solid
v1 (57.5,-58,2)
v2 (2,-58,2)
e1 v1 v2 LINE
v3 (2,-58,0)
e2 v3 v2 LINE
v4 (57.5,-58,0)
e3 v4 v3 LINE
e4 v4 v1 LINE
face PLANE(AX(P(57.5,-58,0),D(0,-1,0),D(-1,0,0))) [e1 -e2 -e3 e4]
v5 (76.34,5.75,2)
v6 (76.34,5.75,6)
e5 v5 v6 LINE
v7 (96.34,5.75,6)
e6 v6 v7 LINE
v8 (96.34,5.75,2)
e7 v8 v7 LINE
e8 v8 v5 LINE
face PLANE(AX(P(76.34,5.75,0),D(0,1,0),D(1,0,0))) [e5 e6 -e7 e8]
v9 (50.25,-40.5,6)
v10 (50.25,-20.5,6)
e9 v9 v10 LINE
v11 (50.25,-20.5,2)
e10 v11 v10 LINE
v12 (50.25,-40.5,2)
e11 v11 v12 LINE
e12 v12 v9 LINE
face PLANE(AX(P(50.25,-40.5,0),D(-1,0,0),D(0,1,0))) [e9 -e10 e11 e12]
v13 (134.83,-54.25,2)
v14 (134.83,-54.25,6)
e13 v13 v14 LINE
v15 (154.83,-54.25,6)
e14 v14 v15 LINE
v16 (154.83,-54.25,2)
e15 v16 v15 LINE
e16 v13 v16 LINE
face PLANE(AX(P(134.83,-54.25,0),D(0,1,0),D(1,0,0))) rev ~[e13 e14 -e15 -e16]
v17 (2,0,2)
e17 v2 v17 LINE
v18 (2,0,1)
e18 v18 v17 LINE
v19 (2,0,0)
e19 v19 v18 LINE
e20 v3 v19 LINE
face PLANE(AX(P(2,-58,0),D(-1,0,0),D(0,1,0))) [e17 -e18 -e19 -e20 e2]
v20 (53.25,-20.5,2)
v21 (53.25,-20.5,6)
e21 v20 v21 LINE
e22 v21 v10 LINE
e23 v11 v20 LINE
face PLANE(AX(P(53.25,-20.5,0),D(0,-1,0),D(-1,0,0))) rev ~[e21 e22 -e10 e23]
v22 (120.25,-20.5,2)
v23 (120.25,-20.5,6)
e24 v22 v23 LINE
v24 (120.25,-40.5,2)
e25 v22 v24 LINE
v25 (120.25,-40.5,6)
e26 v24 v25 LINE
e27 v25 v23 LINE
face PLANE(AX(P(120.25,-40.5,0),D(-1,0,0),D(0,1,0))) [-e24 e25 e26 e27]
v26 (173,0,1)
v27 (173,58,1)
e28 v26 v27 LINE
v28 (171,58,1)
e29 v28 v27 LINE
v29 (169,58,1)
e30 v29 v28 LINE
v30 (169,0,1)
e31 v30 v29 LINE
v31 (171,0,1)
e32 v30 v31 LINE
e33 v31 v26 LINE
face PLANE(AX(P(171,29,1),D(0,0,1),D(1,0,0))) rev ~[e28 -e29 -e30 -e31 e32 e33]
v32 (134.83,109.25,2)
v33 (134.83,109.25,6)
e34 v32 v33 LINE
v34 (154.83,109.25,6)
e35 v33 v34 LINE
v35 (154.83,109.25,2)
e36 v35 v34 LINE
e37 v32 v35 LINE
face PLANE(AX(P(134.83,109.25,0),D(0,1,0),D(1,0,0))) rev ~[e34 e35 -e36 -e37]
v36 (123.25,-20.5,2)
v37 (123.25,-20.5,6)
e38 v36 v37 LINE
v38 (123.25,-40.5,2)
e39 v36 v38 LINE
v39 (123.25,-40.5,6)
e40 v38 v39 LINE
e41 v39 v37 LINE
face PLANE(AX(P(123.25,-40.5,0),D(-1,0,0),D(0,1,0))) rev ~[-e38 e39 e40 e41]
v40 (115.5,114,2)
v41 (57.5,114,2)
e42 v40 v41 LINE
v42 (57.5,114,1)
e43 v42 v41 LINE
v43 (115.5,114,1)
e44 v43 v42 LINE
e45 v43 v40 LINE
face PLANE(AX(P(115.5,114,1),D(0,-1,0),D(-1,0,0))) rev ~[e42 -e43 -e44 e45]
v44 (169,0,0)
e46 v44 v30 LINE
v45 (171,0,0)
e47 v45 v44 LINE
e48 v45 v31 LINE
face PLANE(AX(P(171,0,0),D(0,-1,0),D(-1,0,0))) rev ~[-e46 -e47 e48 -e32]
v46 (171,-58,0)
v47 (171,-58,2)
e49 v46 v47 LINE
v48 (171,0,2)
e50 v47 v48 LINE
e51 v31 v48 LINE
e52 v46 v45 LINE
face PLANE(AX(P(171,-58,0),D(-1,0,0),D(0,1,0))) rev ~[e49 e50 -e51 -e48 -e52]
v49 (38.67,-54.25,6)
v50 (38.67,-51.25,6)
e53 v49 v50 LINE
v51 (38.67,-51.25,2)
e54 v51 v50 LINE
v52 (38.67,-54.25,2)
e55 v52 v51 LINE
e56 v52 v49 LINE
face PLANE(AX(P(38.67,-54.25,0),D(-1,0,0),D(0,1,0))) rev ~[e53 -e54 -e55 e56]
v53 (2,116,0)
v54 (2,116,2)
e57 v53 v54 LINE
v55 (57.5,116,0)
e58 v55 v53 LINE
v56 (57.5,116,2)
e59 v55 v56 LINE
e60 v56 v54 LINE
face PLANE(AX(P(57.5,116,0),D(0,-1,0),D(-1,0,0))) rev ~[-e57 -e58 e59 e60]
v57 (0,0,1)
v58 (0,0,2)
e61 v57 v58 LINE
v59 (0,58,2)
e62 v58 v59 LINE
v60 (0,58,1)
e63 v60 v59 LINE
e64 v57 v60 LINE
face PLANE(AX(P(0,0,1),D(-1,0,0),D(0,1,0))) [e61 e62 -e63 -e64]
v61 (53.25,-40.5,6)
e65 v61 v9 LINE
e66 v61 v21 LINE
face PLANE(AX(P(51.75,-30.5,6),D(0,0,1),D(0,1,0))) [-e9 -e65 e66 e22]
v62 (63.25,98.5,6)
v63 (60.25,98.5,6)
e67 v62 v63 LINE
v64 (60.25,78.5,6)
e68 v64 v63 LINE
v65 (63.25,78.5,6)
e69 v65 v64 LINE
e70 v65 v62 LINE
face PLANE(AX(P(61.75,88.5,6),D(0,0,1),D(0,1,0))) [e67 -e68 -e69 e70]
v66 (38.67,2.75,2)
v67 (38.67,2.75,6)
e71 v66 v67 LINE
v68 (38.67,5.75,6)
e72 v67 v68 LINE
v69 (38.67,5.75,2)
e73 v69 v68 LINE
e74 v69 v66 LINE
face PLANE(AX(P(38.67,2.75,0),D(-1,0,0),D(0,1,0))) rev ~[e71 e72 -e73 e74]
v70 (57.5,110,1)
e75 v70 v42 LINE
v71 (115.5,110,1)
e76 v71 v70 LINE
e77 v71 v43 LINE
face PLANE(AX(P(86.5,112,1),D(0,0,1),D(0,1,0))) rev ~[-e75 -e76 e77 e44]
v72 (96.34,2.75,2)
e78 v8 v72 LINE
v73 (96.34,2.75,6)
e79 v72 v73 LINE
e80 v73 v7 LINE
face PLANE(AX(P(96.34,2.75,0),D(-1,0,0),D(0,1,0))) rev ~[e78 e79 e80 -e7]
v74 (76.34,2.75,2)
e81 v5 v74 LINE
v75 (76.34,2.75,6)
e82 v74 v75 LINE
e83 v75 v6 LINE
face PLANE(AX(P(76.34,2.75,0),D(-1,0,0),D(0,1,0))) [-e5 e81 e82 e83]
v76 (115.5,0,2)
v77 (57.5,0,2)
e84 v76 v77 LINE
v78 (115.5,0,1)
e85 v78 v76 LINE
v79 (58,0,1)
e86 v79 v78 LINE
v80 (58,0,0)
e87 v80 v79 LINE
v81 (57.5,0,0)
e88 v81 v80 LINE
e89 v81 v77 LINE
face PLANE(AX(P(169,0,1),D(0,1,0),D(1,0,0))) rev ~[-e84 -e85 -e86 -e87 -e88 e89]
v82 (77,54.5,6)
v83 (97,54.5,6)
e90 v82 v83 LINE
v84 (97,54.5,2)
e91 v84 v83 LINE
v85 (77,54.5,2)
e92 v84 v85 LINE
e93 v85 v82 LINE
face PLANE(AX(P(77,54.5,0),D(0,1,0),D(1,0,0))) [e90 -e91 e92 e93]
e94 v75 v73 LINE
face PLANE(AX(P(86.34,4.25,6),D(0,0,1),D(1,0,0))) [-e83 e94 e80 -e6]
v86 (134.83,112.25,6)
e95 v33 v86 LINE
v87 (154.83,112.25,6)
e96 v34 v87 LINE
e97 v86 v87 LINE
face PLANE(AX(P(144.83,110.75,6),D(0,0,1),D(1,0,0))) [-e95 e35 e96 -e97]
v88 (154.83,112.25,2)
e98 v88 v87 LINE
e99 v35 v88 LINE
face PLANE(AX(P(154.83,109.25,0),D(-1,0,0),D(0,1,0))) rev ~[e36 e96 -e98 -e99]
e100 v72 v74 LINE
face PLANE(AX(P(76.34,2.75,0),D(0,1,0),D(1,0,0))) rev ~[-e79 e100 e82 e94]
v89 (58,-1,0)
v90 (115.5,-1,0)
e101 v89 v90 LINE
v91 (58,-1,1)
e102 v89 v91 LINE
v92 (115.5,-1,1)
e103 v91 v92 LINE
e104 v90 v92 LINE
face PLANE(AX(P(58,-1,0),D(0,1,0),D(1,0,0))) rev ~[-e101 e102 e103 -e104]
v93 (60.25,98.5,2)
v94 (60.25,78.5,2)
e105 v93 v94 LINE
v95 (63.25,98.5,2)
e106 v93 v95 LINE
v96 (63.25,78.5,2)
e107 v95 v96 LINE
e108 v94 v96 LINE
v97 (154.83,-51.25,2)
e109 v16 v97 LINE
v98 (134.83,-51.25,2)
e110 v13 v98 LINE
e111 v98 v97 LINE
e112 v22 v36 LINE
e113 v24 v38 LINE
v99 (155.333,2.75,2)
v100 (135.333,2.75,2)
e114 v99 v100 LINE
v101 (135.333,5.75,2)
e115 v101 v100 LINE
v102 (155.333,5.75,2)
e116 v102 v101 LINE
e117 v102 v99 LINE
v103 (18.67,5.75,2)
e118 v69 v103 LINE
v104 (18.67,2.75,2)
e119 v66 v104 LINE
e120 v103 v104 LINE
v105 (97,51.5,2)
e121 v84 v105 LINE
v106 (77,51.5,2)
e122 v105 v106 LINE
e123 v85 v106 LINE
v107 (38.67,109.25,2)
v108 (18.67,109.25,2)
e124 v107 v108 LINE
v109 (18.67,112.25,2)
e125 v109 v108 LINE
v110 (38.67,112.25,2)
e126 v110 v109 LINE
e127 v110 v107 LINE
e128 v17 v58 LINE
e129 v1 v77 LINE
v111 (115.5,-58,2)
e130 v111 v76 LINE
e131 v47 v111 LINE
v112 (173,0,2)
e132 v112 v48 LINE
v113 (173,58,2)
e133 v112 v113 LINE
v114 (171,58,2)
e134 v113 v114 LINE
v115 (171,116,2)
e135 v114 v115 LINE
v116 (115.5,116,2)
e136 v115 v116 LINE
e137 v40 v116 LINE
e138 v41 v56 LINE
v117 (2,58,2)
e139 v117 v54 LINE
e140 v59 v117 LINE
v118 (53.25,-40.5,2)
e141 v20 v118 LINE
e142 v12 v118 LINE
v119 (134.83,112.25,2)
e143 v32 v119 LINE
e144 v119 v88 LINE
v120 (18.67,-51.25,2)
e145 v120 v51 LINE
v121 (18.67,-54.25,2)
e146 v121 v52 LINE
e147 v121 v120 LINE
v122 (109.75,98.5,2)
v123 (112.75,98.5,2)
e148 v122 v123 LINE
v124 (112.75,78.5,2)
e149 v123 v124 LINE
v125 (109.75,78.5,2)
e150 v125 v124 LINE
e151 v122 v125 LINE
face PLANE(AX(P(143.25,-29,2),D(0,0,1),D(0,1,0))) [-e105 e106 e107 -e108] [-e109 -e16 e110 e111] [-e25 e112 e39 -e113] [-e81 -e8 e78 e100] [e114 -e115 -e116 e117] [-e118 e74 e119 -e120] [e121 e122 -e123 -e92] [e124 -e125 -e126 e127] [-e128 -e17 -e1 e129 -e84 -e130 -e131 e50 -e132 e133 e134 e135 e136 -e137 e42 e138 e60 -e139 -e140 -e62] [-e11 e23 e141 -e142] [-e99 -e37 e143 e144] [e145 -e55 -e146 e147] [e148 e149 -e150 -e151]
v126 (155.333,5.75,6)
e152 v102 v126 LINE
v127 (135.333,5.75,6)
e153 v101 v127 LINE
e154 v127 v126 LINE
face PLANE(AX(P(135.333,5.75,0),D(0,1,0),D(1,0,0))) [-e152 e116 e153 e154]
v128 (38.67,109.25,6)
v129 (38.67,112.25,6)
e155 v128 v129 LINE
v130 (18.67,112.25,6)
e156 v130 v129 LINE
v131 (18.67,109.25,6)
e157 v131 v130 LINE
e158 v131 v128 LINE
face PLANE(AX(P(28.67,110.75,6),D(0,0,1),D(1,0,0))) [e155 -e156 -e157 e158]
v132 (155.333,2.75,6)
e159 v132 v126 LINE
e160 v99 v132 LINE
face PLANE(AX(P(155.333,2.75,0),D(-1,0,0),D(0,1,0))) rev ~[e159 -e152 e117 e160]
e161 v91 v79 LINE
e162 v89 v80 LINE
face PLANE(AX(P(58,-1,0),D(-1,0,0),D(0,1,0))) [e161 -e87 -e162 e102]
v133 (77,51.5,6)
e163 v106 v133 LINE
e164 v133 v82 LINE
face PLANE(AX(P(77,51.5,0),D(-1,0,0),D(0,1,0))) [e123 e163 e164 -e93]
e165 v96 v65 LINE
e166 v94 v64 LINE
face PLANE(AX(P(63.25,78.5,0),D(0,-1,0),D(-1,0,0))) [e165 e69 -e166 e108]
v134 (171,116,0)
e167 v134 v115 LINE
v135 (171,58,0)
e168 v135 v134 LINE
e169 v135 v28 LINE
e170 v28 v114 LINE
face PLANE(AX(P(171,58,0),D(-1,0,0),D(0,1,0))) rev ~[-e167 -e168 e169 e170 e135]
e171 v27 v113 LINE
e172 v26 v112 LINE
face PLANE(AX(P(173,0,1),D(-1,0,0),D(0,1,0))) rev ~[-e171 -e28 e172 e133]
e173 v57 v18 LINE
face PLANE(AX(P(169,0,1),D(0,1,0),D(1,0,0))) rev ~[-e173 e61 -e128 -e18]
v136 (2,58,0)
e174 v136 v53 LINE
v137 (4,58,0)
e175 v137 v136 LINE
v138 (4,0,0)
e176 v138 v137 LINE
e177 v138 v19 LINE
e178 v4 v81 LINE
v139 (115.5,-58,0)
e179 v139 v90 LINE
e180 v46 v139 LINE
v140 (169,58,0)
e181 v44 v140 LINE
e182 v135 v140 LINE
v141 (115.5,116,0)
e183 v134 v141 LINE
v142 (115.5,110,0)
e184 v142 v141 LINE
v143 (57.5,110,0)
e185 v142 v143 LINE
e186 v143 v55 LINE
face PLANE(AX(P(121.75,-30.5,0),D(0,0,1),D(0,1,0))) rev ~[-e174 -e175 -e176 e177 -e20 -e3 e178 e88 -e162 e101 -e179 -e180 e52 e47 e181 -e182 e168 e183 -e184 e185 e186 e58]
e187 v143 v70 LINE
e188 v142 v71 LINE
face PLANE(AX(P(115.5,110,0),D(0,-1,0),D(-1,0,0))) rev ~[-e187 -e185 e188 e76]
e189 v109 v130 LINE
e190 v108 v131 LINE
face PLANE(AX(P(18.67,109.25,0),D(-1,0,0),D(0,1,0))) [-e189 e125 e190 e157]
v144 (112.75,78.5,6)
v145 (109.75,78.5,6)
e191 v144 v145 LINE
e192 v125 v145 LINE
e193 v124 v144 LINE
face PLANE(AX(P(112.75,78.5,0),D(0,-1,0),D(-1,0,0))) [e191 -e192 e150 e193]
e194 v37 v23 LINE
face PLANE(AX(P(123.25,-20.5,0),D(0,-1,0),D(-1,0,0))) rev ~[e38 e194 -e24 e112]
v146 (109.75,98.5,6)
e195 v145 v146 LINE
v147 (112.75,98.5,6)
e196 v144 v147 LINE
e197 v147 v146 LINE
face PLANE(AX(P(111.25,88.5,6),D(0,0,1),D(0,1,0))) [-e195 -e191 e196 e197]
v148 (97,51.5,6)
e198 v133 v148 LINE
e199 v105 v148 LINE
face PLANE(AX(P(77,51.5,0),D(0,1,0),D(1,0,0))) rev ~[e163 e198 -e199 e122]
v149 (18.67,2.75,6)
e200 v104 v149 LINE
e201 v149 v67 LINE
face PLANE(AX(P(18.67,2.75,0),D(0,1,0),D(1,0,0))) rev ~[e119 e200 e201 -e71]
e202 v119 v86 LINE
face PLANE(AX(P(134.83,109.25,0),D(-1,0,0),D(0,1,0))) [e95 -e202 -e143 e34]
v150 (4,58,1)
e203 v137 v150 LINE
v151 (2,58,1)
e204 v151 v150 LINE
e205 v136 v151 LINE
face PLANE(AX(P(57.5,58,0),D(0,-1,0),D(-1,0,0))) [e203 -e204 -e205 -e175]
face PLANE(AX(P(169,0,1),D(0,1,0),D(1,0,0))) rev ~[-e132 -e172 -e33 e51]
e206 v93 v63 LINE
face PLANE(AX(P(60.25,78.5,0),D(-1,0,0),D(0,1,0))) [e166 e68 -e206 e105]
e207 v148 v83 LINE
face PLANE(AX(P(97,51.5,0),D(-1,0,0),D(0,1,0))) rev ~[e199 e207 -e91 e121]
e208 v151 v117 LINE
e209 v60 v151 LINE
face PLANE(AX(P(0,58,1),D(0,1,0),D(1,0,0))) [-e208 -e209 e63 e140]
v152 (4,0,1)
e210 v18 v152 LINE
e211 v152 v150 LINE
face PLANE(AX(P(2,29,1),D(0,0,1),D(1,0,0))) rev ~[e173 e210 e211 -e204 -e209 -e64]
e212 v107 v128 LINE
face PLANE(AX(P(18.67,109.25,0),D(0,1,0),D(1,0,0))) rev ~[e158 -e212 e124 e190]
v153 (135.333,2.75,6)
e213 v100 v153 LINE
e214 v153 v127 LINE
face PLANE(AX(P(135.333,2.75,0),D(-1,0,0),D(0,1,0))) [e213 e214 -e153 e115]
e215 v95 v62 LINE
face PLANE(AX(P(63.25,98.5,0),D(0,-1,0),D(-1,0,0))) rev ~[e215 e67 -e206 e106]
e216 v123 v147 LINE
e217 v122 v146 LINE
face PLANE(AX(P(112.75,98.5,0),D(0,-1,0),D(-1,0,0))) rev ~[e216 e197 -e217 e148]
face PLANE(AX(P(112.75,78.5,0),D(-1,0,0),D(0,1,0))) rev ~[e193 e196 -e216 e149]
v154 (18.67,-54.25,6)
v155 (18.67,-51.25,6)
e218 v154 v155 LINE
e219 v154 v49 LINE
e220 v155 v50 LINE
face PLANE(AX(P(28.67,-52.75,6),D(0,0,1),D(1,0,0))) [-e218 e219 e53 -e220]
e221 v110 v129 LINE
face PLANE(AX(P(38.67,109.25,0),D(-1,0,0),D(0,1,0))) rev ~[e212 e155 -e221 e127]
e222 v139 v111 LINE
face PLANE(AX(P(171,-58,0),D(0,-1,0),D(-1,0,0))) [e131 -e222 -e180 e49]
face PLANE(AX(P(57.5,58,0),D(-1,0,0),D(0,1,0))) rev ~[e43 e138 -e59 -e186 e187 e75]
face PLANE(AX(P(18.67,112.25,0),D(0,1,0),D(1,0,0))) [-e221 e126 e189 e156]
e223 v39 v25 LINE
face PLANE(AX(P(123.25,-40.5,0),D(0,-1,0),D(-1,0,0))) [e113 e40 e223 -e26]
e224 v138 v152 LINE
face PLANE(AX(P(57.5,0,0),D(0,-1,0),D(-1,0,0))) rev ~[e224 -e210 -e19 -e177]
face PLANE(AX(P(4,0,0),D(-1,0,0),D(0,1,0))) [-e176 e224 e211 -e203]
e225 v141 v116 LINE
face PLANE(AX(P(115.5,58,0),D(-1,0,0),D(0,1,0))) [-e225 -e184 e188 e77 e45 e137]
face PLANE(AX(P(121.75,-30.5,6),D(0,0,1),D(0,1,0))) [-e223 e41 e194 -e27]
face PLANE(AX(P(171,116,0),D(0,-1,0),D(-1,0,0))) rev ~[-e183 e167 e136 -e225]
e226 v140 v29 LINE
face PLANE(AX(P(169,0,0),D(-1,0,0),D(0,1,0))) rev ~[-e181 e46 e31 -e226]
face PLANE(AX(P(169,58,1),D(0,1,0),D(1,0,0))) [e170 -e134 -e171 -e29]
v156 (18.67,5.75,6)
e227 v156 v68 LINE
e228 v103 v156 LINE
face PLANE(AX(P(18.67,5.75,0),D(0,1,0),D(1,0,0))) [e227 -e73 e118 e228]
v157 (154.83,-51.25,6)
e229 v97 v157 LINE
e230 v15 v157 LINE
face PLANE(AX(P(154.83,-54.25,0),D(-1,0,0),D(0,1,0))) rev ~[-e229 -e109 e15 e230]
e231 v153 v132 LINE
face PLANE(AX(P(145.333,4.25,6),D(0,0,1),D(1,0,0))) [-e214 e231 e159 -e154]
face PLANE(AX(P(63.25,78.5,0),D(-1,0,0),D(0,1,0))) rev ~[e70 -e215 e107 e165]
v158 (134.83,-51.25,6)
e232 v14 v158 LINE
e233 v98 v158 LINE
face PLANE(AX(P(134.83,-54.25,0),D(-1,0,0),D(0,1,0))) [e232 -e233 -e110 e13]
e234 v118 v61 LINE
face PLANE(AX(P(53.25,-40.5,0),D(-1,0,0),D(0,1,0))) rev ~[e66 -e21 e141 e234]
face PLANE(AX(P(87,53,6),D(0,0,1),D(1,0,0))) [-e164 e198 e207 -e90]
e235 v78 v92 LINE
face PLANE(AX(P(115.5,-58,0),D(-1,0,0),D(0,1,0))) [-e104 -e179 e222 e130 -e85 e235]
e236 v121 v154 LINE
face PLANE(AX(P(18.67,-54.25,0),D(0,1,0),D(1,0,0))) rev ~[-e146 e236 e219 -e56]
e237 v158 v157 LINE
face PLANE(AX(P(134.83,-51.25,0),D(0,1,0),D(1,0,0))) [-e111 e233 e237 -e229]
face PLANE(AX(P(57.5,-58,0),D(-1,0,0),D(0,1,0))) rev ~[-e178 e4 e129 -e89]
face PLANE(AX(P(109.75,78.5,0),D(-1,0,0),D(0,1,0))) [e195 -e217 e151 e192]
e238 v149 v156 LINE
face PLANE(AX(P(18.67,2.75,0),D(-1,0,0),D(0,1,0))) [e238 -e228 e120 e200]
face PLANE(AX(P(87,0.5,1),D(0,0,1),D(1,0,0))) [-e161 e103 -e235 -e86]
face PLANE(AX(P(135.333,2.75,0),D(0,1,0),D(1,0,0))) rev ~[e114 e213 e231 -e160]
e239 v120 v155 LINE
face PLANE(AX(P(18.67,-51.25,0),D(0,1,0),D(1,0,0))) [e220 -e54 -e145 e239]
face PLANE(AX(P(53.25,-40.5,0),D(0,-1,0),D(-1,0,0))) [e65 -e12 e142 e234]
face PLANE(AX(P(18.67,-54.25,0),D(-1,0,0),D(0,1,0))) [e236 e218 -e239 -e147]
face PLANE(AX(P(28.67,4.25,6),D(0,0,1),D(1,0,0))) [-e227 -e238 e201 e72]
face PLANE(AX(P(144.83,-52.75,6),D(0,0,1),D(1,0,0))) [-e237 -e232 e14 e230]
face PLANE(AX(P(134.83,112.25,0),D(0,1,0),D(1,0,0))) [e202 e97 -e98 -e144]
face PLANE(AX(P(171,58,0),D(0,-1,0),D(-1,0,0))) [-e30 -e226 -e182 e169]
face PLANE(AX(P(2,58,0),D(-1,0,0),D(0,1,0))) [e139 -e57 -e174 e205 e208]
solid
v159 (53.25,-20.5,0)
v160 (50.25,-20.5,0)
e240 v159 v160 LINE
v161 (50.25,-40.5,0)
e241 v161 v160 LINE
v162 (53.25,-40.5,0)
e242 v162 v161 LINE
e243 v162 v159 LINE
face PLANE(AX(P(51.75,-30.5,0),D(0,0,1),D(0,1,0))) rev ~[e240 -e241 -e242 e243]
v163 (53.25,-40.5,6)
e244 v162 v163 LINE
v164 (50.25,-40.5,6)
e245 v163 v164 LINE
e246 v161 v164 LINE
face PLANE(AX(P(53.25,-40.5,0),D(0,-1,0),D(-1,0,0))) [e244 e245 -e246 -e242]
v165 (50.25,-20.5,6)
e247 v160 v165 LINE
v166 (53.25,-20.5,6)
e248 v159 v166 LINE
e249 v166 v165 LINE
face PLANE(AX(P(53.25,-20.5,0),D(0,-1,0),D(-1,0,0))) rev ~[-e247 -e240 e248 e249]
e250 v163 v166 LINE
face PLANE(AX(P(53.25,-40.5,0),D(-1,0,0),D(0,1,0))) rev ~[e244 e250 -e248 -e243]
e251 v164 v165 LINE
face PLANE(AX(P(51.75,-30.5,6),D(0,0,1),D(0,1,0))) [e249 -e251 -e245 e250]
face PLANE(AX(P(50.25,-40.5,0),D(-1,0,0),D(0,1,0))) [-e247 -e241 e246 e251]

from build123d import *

# Parameters (mm, degrees)
BOX034_W     = 20
BOX034_H     = 3
BOX034_DEPTH = 6
BOX001_W     = 110
BOX001_H     = 58
BOX001_DEPTH = 2
BOX002_W     = 20
BOX002_H     = 3
BOX002_DEPTH = 6
BOX003_W     = 20
BOX003_H     = 3
BOX003_DEPTH = 6
BOX004_W     = 20
BOX004_H     = 3
BOX004_DEPTH = 6
BOX006_W     = 20
BOX006_H     = 3
BOX006_DEPTH = 6
BOX007_W     = 20
BOX007_H     = 3
BOX007_DEPTH = 6
BOX008_W     = 20
BOX008_H     = 3
BOX008_DEPTH = 6
BOX009_W     = 4
BOX009_H     = 58
BOX009_DEPTH = 1
BOX010_W     = 4
BOX010_H     = 58
BOX010_DEPTH = 1
BOX012_W     = 58
BOX012_H     = 55.5
BOX012_DEPTH = 2
BOX011_W     = 4
BOX011_H     = 58
BOX011_DEPTH = 1
BOX017_W     = 20
BOX017_H     = 3
BOX017_DEPTH = 6
BOX018_W     = 20
BOX018_H     = 3
BOX018_DEPTH = 6
BOX026_W     = 20
BOX026_H     = 3
BOX026_DEPTH = 6
BOX027_W     = 58
BOX027_H     = 3
BOX027_DEPTH = 1
BOX029_W     = 20
BOX029_H     = 3
BOX029_DEPTH = 6
BOX030_W     = 58
BOX030_H     = 55.5
BOX030_DEPTH = 2
BOX031_W     = 58
BOX031_H     = 55.5
BOX031_DEPTH = 2
BOX032_W     = 58
BOX032_H     = 55.5
BOX032_DEPTH = 2
BOX033_W     = 20
BOX033_H     = 3
BOX033_DEPTH = 6
BOX035_W     = 20
BOX035_H     = 3
BOX035_DEPTH = 6
BOX_W        = 165
BOX_H        = 58
BOX_DEPTH    = 2


with BuildPart() as cube034:
    # Box034 → Box034 (new body)
    with BuildSketch(Plane(origin=(53.25, -40.5, 0), x_dir=(0, 1, 0), z_dir=(0, 0, 1))):
        with Locations((10, 1.5)):
            Rectangle(BOX034_W, BOX034_H)
    extrude(amount=BOX034_DEPTH)


with BuildPart() as cube001:
    # Box001 → Box001 (new body)
    with BuildSketch(Plane(origin=(115.5, 0, 0), x_dir=(0, 1, 0), z_dir=(0, 0, 1))):
        with Locations((55, 29)):
            Rectangle(BOX001_W, BOX001_H)
    extrude(amount=BOX001_DEPTH)


with BuildPart() as cube002:
    # Box002 → Box002 (new body)
    with BuildSketch(Plane(origin=(18.67, -54.25, 0), x_dir=(1, 0, 0), z_dir=(0, 0, 1))):
        with Locations((10, 1.5)):
            Rectangle(BOX002_W, BOX002_H)
    extrude(amount=BOX002_DEPTH)


with BuildPart() as cube003:
    # Box003 → Box003 (new body)
    with BuildSketch(Plane(origin=(76.34, 2.75, 0), x_dir=(1, 0, 0), z_dir=(0, 0, 1))):
        with Locations((10, 1.5)):
            Rectangle(BOX003_W, BOX003_H)
    extrude(amount=BOX003_DEPTH)


with BuildPart() as cube004:
    # Box004 → Box004 (new body)
    with BuildSketch(Plane(origin=(134.83, -54.25, 0), x_dir=(1, 0, 0), z_dir=(0, 0, 1))):
        with Locations((10, 1.5)):
            Rectangle(BOX004_W, BOX004_H)
    extrude(amount=BOX004_DEPTH)


with BuildPart() as cube006:
    # Box006 → Box006 (new body)
    with BuildSketch(Plane(origin=(134.83, 109.25, 0), x_dir=(1, 0, 0), z_dir=(0, 0, 1))):
        with Locations((10, 1.5)):
            Rectangle(BOX006_W, BOX006_H)
    extrude(amount=BOX006_DEPTH)


with BuildPart() as cube007:
    # Box007 → Box007 (new body)
    with BuildSketch(Plane(origin=(63.25, 78.5, 0), x_dir=(0, 1, 0), z_dir=(0, 0, 1))):
        with Locations((10, 1.5)):
            Rectangle(BOX007_W, BOX007_H)
    extrude(amount=BOX007_DEPTH)


with BuildPart() as cube008:
    # Box008 → Box008 (new body)
    with BuildSketch(Plane(origin=(112.75, 78.5, 0), x_dir=(0, 1, 0), z_dir=(0, 0, 1))):
        with Locations((10, 1.5)):
            Rectangle(BOX008_W, BOX008_H)
    extrude(amount=BOX008_DEPTH)


with BuildPart() as cube009:
    # Box009 → Box009 (new body)
    with BuildSketch(Plane.XY.offset(1)):
        with Locations((2, 29)):
            Rectangle(BOX009_W, BOX009_H)
    extrude(amount=BOX009_DEPTH)


with BuildPart() as cube010:
    # Box010 → Box010 (new body)
    with BuildSketch(Plane(origin=(169, 0, 1), x_dir=(1, 0, 0), z_dir=(0, 0, 1))):
        with Locations((2, 29)):
            Rectangle(BOX010_W, BOX010_H)
    extrude(amount=BOX010_DEPTH)


with BuildPart() as cube012:
    # Box012 → Box012 (new body)
    with BuildSketch(Plane(origin=(57.5, 58, 0), x_dir=(0, 1, 0), z_dir=(0, 0, 1))):
        with Locations((29, 27.75)):
            Rectangle(BOX012_W, BOX012_H)
    extrude(amount=BOX012_DEPTH)


with BuildPart() as cube011:
    # Box011 → Box011 (new body)
    with BuildSketch(Plane(origin=(115.5, 110, 1), x_dir=(0, 1, 0), z_dir=(0, 0, 1))):
        with Locations((2, 29)):
            Rectangle(BOX011_W, BOX011_H)
    extrude(amount=BOX011_DEPTH)


with BuildPart() as cube017:
    # Box017 → Box017 (new body)
    with BuildSketch(Plane(origin=(18.67, 2.75, 0), x_dir=(1, 0, 0), z_dir=(0, 0, 1))):
        with Locations((10, 1.5)):
            Rectangle(BOX017_W, BOX017_H)
    extrude(amount=BOX017_DEPTH)


with BuildPart() as cube018:
    # Box018 → Box018 (new body)
    with BuildSketch(Plane(origin=(135.333, 2.75, 0), x_dir=(1, 0, 0), z_dir=(0, 0, 1))):
        with Locations((10, 1.5)):
            Rectangle(BOX018_W, BOX018_H)
    extrude(amount=BOX018_DEPTH)


with BuildPart() as cube026:
    # Box026 → Box026 (new body)
    with BuildSketch(Plane(origin=(77, 51.5, 0), x_dir=(1, 0, 0), z_dir=(0, 0, 1))):
        with Locations((10, 1.5)):
            Rectangle(BOX026_W, BOX026_H)
    extrude(amount=BOX026_DEPTH)


with BuildPart() as cube027:
    # Box027 → Box027 (new body)
    with BuildSketch(Plane(origin=(58, -1, 0), x_dir=(1, 0, 0), z_dir=(0, 0, 1))):
        with Locations((29, 1.5)):
            Rectangle(BOX027_W, BOX027_H)
    extrude(amount=BOX027_DEPTH)


with BuildPart() as cube029:
    # Box029 → Box029 (new body)
    with BuildSketch(Plane(origin=(18.67, 109.25, 0), x_dir=(1, 0, 0), z_dir=(0, 0, 1))):
        with Locations((10, 1.5)):
            Rectangle(BOX029_W, BOX029_H)
    extrude(amount=BOX029_DEPTH)


with BuildPart() as cube030:
    # Box030 → Box030 (new body)
    with BuildSketch(Plane(origin=(171, 58, 0), x_dir=(0, 1, 0), z_dir=(0, 0, 1))):
        with Locations((29, 27.75)):
            Rectangle(BOX030_W, BOX030_H)
    extrude(amount=BOX030_DEPTH)


with BuildPart() as cube031:
    # Box031 → Box031 (new body)
    with BuildSketch(Plane(origin=(57.5, -58, 0), x_dir=(0, 1, 0), z_dir=(0, 0, 1))):
        with Locations((29, 27.75)):
            Rectangle(BOX031_W, BOX031_H)
    extrude(amount=BOX031_DEPTH)


with BuildPart() as cube032:
    # Box032 → Box032 (new body)
    with BuildSketch(Plane(origin=(171, -58, 0), x_dir=(0, 1, 0), z_dir=(0, 0, 1))):
        with Locations((29, 27.75)):
            Rectangle(BOX032_W, BOX032_H)
    extrude(amount=BOX032_DEPTH)


with BuildPart() as cube033:
    # Box033 → Box033 (new body)
    with BuildSketch(Plane(origin=(53.25, -40.5, 0), x_dir=(0, 1, 0), z_dir=(0, 0, 1))):
        with Locations((10, 1.5)):
            Rectangle(BOX033_W, BOX033_H)
    extrude(amount=BOX033_DEPTH)


with BuildPart() as cube035:
    # Box035 → Box035 (new body)
    with BuildSketch(Plane(origin=(123.25, -40.5, 0), x_dir=(0, 1, 0), z_dir=(0, 0, 1))):
        with Locations((10, 1.5)):
            Rectangle(BOX035_W, BOX035_H)
    extrude(amount=BOX035_DEPTH)


with BuildPart() as fusion:
    # Box → Box (new body)
    with BuildSketch(Plane(origin=(4, 0, 0), x_dir=(1, 0, 0), z_dir=(0, 0, 1))):
        with Locations((82.5, 29)):
            Rectangle(BOX_W, BOX_H)
    extrude(amount=BOX_DEPTH)

    # Fusion: union Cube001, Cube002, Cube003, Cube004, Cube006, Cube007, Cube008, Cube009, Cube010, Cube012, Cube011, Cube017, Cube018, Cube026, Cube027, Cube029, Cube030, Cube031, Cube032, Cube033, Cube035
    add(cube001.part)
    add(cube002.part)
    add(cube003.part)
    add(cube004.part)
    add(cube006.part)
    add(cube007.part)
    add(cube008.part)
    add(cube009.part)
    add(cube010.part)
    add(cube012.part)
    add(cube011.part)
    add(cube017.part)
    add(cube018.part)
    add(cube026.part)
    add(cube027.part)
    add(cube029.part)
    add(cube030.part)
    add(cube031.part)
    add(cube032.part)
    add(cube033.part)
    add(cube035.part)


solid = Compound([cube034.part, fusion.part])
